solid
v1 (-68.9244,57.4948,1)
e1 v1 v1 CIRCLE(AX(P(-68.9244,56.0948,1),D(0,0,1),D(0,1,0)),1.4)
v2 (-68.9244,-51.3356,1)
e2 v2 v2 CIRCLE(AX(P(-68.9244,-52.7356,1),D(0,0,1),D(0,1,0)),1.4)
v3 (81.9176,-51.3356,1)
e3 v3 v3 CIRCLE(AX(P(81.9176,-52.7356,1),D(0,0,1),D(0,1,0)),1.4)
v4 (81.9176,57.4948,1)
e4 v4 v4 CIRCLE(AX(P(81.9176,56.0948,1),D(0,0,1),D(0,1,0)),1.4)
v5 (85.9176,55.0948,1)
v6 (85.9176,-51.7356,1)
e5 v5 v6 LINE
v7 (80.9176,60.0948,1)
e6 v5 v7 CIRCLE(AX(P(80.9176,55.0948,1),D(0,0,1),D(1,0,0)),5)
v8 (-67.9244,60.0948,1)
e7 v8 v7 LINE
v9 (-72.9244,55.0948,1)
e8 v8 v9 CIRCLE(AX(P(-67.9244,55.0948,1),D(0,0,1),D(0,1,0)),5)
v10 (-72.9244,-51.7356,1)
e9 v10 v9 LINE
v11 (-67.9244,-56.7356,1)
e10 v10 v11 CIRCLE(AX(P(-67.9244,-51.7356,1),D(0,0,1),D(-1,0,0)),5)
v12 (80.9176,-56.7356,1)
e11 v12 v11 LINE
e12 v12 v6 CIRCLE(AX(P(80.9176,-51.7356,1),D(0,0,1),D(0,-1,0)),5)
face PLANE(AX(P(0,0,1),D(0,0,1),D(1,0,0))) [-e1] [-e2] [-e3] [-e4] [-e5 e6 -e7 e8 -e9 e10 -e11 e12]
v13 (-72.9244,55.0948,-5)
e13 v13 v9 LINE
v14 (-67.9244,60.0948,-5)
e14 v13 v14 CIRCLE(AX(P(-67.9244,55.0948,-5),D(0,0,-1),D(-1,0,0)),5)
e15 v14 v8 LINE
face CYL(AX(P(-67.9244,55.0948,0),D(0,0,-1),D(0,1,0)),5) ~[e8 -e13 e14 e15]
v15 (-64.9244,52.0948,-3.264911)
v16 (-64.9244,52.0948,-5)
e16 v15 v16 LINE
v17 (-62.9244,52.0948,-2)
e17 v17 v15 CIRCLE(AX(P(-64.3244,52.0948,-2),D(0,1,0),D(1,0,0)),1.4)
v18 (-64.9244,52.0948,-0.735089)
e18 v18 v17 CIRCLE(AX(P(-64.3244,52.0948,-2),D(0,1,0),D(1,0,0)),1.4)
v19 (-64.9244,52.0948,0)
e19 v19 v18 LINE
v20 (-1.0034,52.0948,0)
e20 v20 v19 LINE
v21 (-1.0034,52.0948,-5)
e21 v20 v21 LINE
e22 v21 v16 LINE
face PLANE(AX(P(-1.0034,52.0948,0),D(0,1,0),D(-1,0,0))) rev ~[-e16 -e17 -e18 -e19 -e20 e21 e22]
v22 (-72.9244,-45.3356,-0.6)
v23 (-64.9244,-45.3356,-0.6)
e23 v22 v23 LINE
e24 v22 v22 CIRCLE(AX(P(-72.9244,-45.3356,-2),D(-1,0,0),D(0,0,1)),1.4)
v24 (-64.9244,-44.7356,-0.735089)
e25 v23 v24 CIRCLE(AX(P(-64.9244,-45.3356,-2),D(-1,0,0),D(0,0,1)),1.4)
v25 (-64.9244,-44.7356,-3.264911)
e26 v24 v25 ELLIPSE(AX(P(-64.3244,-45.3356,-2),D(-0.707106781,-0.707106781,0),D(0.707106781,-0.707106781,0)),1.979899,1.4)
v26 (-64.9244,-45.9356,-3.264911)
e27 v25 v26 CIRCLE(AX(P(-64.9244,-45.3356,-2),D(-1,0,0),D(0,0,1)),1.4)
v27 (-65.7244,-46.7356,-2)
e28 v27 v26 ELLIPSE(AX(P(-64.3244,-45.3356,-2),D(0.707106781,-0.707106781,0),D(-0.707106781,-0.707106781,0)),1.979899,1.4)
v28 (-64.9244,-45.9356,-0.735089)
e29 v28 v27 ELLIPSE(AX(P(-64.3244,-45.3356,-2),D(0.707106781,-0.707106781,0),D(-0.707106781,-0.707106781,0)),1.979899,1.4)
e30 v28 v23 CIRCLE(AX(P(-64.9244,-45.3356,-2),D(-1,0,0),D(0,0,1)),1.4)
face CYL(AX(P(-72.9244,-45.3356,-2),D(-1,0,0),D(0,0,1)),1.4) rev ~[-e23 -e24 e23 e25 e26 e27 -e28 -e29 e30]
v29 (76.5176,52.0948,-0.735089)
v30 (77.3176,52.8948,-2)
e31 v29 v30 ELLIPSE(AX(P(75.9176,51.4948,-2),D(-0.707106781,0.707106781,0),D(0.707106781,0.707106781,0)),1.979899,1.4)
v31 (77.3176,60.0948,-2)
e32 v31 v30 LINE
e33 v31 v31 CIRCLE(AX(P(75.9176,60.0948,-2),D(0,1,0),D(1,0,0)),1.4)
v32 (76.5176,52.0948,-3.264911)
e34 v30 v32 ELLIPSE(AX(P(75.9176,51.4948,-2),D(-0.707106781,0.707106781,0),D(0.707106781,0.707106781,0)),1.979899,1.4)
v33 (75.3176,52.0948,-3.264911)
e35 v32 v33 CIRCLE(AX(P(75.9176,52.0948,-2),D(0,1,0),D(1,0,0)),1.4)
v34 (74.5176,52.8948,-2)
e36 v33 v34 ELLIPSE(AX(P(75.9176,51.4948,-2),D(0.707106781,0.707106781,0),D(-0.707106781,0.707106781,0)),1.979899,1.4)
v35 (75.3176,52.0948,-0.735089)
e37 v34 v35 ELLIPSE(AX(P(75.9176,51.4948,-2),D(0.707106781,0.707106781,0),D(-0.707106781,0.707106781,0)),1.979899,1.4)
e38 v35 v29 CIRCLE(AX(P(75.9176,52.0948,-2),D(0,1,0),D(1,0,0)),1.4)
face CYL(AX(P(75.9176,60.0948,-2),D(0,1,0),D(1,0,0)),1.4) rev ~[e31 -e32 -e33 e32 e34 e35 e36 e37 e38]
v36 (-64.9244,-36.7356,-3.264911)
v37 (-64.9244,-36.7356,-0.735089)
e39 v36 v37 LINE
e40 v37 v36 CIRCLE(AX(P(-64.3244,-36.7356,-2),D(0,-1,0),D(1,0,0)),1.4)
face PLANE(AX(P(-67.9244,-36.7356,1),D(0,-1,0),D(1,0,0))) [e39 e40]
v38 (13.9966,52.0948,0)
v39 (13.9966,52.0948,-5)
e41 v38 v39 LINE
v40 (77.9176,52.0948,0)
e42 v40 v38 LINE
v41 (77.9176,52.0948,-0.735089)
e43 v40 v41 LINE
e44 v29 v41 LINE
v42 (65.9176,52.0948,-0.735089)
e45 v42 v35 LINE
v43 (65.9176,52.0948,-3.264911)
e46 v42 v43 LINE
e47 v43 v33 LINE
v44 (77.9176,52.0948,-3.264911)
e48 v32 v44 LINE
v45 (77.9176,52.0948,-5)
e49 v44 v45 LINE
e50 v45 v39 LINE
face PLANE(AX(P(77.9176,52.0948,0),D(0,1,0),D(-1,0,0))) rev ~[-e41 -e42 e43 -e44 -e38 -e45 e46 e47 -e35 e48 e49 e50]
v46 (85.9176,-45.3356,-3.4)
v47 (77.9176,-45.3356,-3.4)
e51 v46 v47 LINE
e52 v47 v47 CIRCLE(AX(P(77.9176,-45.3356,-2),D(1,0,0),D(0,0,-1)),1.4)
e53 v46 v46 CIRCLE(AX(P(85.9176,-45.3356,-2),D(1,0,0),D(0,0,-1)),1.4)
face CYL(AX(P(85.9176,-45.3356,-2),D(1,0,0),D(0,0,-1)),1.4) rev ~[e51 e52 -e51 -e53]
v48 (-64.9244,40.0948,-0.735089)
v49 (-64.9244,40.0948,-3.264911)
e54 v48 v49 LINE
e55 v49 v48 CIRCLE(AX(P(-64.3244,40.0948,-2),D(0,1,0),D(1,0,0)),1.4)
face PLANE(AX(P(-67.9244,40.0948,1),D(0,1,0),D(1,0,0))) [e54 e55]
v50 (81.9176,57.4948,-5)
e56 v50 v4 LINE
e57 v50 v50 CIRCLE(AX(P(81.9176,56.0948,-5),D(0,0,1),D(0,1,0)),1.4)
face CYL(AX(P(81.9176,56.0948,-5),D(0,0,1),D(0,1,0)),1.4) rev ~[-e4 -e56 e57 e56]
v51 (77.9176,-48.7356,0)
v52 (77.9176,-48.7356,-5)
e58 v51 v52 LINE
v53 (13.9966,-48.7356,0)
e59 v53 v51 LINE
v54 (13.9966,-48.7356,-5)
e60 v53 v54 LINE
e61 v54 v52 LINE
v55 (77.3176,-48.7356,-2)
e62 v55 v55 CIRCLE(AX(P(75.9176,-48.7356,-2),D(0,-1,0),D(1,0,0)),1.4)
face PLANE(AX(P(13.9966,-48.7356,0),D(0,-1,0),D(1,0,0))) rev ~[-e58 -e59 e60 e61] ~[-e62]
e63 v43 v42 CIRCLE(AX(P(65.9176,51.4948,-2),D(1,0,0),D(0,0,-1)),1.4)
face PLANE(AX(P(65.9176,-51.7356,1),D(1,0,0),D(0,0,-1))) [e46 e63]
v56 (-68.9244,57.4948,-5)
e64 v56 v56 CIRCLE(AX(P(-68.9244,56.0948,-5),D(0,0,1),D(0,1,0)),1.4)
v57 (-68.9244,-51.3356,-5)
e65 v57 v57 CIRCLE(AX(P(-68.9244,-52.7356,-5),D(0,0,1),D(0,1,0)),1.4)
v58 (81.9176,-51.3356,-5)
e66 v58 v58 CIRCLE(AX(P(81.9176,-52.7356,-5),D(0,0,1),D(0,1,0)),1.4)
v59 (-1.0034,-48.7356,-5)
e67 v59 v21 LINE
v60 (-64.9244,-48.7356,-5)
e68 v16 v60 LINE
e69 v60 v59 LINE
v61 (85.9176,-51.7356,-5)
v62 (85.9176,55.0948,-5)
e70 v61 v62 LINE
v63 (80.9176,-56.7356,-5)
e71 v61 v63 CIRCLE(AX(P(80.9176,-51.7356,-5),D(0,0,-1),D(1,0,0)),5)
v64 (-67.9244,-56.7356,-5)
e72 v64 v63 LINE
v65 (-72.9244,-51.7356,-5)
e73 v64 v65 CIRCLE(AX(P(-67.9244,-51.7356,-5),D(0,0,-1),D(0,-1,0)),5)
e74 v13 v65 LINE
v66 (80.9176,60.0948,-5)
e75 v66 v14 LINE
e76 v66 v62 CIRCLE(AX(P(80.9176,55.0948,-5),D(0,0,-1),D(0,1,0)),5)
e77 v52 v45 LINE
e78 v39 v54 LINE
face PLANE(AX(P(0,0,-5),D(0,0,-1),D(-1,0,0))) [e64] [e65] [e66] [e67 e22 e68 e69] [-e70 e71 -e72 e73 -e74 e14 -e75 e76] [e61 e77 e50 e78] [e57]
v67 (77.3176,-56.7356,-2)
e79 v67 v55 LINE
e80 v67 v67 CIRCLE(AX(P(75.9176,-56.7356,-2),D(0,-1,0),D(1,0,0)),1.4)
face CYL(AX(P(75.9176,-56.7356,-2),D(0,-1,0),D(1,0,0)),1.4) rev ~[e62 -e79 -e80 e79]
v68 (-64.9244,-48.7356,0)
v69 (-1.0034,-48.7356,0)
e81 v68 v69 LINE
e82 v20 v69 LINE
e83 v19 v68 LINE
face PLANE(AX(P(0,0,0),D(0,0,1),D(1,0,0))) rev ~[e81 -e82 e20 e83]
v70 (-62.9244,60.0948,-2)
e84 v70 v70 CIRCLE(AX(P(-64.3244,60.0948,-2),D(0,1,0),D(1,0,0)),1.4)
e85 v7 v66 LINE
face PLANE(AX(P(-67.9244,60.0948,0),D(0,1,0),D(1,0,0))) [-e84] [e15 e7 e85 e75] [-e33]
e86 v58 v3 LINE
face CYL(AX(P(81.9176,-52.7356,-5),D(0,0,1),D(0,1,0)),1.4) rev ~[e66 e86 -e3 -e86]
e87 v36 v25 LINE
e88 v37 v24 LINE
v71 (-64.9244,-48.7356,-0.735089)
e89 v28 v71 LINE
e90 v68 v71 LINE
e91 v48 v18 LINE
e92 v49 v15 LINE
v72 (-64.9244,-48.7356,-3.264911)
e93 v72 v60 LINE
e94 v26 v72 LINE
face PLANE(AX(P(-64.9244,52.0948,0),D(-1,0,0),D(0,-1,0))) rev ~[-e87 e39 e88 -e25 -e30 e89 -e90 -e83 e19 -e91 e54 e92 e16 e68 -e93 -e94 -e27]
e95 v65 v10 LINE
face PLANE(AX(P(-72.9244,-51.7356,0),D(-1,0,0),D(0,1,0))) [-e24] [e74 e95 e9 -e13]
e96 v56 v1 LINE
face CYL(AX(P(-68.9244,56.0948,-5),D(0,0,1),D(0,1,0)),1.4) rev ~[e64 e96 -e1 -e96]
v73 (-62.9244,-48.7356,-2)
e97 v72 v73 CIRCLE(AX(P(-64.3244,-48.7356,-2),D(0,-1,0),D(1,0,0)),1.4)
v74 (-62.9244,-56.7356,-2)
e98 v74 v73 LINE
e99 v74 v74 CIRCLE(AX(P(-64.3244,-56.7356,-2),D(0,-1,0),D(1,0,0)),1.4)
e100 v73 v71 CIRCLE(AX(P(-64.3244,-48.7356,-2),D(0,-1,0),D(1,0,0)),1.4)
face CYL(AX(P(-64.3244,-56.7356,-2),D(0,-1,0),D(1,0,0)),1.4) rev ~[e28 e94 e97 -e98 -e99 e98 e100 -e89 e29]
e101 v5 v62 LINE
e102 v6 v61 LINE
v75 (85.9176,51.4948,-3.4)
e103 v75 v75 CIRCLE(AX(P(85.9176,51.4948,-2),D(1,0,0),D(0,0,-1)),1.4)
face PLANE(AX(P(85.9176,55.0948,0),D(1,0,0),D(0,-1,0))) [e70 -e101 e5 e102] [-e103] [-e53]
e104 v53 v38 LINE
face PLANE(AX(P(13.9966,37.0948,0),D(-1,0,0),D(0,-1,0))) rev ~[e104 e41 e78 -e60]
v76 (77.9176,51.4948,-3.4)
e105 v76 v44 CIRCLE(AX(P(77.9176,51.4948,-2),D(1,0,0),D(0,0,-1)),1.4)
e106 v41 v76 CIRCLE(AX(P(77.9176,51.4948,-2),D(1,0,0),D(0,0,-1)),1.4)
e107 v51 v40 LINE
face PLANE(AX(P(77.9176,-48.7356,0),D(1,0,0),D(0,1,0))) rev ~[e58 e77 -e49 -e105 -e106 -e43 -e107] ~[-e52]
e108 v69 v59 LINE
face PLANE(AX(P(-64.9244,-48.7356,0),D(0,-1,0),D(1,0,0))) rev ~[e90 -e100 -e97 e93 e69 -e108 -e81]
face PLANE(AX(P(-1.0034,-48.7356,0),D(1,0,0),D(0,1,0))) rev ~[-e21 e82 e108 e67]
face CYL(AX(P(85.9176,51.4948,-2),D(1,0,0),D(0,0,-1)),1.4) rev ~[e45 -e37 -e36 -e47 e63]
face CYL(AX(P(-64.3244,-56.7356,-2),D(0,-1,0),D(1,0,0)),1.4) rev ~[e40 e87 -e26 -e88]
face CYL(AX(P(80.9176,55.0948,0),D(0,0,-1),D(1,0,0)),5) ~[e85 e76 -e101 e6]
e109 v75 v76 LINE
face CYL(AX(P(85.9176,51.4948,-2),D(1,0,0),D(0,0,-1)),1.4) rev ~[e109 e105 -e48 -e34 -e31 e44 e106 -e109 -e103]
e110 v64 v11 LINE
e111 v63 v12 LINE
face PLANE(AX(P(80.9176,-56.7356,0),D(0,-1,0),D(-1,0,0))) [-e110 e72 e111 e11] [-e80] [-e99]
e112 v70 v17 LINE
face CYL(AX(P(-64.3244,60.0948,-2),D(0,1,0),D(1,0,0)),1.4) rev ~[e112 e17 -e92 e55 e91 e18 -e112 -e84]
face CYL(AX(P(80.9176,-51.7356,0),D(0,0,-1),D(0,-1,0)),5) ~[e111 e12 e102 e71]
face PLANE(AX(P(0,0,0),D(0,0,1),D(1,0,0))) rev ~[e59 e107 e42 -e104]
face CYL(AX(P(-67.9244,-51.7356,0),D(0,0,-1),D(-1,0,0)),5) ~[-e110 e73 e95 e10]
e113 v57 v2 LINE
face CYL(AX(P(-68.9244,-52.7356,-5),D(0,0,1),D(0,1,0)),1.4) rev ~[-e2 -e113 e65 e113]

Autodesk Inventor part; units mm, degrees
ref_plane "YZ Plane" through (0, 0, 0) normal (1, 0, 0) x (0, 1, 0)
ref_plane "XZ Plane" through (0, 0, 0) normal (0, 1, 0) x (-1, 0, 0)
ref_plane "XY Plane" through (0, 0, 0) normal (0, 0, 1) x (1, 0, 0)
sketch "Skizze1" plane through (0, 0, 0) normal (0, 0, 1) x (1, 0, 0)
  line L0 (63.945, 39.8) -> (63.945, -39.8) construction
  arc A0 (63.945, 39.8) -> (60.945, 42.8) centre (60.945, 39.8) ccw construction
  line L1 (-60.945, 42.8) -> (60.945, 42.8) construction
  arc A1 (-60.945, 42.8) -> (-63.945, 39.8) centre (-60.945, 39.8) ccw construction
  line L2 (-63.945, -39.8) -> (-63.945, 39.8) construction
  arc A2 (-63.945, -39.8) -> (-60.945, -42.8) centre (-60.945, -39.8) ccw construction
  line L3 (60.945, -42.8) -> (-60.945, -42.8) construction
  arc A3 (60.945, -42.8) -> (63.945, -39.8) centre (60.945, -39.8) ccw construction
  line L4 (-63.625, -39.48) -> (-63.625, 39.48) construction
  arc A4 (-60.625, 42.48) -> (-63.625, 39.48) centre (-60.625, 39.48) ccw construction
  line L5 (-60.625, 42.48) -> (60.625, 42.48) construction
  arc A5 (63.625, 39.48) -> (60.625, 42.48) centre (60.625, 39.48) ccw construction
  line L6 (63.625, 39.48) -> (63.625, -39.48) construction
  arc A6 (60.625, -42.48) -> (63.625, -39.48) centre (60.625, -39.48) ccw construction
  line L7 (60.625, -42.48) -> (-60.625, -42.48) construction
  arc A7 (-63.625, -39.48) -> (-60.625, -42.48) centre (-60.625, -39.48) ccw construction
  line L8 (-62.625, 39.48) -> (-62.625, -39.48) construction
  arc A8 (-62.625, -39.48) -> (-60.625, -41.48) centre (-60.625, -39.48) ccw construction
  line L9 (-60.625, -41.48) -> (60.625, -41.48) construction
  arc A9 (60.625, -41.48) -> (62.625, -39.48) centre (60.625, -39.48) ccw construction
  line L10 (62.625, -39.48) -> (62.625, 39.48) construction
  arc A10 (62.625, 39.48) -> (60.625, 41.48) centre (60.625, 39.48) ccw construction
  line L11 (60.625, 41.48) -> (-60.625, 41.48) construction
  arc A11 (-60.625, 41.48) -> (-62.625, 39.48) centre (-60.625, 39.48) ccw construction
  line L12 (75.9176, 38) -> (78.9176, 41) construction
  line L13 (75.9176, 38) -> (66.9176, 38) construction
  line L14 (63.9176, 35) -> (66.9176, 38) construction
  line L15 (63.9176, 35) -> (63.9176, -34.9) construction
  line L16 (66.9176, -37.9) -> (63.9176, -34.9) construction
  line L17 (66.9176, -37.9) -> (75.9176, -37.9) construction
  line L18 (78.9176, -40.9) -> (75.9176, -37.9) construction
  line L19 (78.9176, -40.9) -> (78.9176, -45.7356) construction
  arc A12 (74.9176, -49.7356) -> (78.9176, -45.7356) centre (74.9176, -45.7356) ccw construction
  line L20 (74.9176, -49.7356) -> (-61.9244, -49.7356) construction
  arc A13 (-65.9244, -45.7356) -> (-61.9244, -49.7356) centre (-61.9244, -45.7356) ccw projected
  line L21 (-65.9244, -45.7356) -> (-65.9244, -40.9) projected
  line L22 (-62.9244, -37.9) -> (-65.9244, -40.9) projected
  line L23 (-62.9244, -37.9) -> (-58.9244, -37.9) construction
  line L24 (-55.9244, -34.9) -> (-58.9244, -37.9) construction
  line L25 (-55.9244, -34.9) -> (-55.9244, 35) construction
  line L26 (-58.9244, 38) -> (-55.9244, 35) construction
  line L27 (-58.9244, 38) -> (-62.9244, 38) construction
  line L28 (-65.9244, 41) -> (-62.9244, 38) projected
  line L29 (-65.9244, 41) -> (-65.9244, 49.0948) projected
  arc A14 (-61.9244, 53.0948) -> (-65.9244, 49.0948) centre (-61.9244, 49.0948) ccw projected
  line L30 (-61.9244, 53.0948) -> (74.9176, 53.0948) construction
  arc A15 (78.9176, 49.0948) -> (74.9176, 53.0948) centre (74.9176, 49.0948) ccw construction
  line L31 (78.9176, 49.0948) -> (78.9176, 41) construction
  circle A16 centre (-62.4244, 49.5948) radius 1.4 construction
  circle A17 centre (-62.4244, -46.2356) radius 1.4 construction
  circle A18 centre (75.4176, -46.2356) radius 1.4 construction
  circle A19 centre (75.4176, 49.5948) radius 1.5 construction
  circle A20 centre (45.2899, -42.9) radius 1.4 construction
  circle A21 centre (45.2899, 43) radius 1.4 construction
  line L32 (54.6, 38) -> (44.6, 38) construction
  line L33 (44.6, 38) -> (44.6, -37.9) construction
  line L34 (44.6, -37.9) -> (54.6, -37.9) construction
  line L35 (54.6, -37.9) -> (54.6, 38) construction
  circle A22 centre (26.5899, 43) radius 1.4 construction
  circle A23 centre (26.5899, -42.9) radius 1.4 construction
  line L36 (25.9, -37.9) -> (35.9, -37.9) construction
  line L37 (35.9, -37.9) -> (35.9, 38) construction
  line L38 (35.9, 38) -> (25.9, 38) construction
  line L39 (25.9, 38) -> (25.9, -37.9) construction
  circle A24 centre (7.8899, 43) radius 1.4 construction
  circle A25 centre (7.8899, -42.9) radius 1.4 construction
  line L40 (7.2, -37.9) -> (17.2, -37.9) construction
  line L41 (17.2, -37.9) -> (17.2, 38) construction
  line L42 (17.2, 38) -> (7.2, 38) construction
  line L43 (7.2, 38) -> (7.2, -37.9) construction
  circle A26 centre (-10.8101, 43) radius 1.4 construction
  circle A27 centre (-10.8101, -42.9) radius 1.4 construction
  line L44 (-11.5, -37.9) -> (-1.5, -37.9) construction
  line L45 (-1.5, -37.9) -> (-1.5, 38) construction
  line L46 (-1.5, 38) -> (-11.5, 38) construction
  line L47 (-11.5, 38) -> (-11.5, -37.9) construction
  circle A28 centre (-29.5101, 43) radius 1.4 construction
  circle A29 centre (-29.5101, -42.9) radius 1.4 construction
  line L48 (-30.2, -37.9) -> (-20.2, -37.9) construction
  line L49 (-20.2, -37.9) -> (-20.2, 38) construction
  line L50 (-20.2, 38) -> (-30.2, 38) construction
  line L51 (-30.2, 38) -> (-30.2, -37.9) construction
  circle A30 centre (-48.2101, 43) radius 1.4 construction
  circle A31 centre (-48.2101, -42.9) radius 1.4 construction
  line L52 (-48.9, -37.9) -> (-38.9, -37.9) construction
  line L53 (-38.9, -37.9) -> (-38.9, 38) construction
  line L54 (-38.9, 38) -> (-48.9, 38) construction
  line L55 (-48.9, 38) -> (-48.9, -37.9) construction
  line L56 (74.9176, 55.0948) -> (-61.9244, 55.0948) construction
  arc A32 (-61.9244, 55.0948) -> (-67.9244, 49.0948) centre (-61.9244, 49.0948) ccw
  line L57 (-67.9244, 49.0948) -> (-67.9244, 40.1716)
  line L58 (-67.9244, 40.1716) -> (-63.7528, 36)
  line L59 (-63.7528, 36) -> (-59.7528, 36) construction
  line L60 (-59.7528, 36) -> (-57.9244, 34.1716) construction
  line L61 (-57.9244, 34.1716) -> (-57.9244, -34.0716) construction
  line L62 (-57.9244, -34.0716) -> (-59.7528, -35.9) construction
  line L63 (-59.7528, -35.9) -> (-63.7528, -35.9) construction
  line L64 (-63.7528, -35.9) -> (-67.9244, -40.0716)
  line L65 (-67.9244, -40.0716) -> (-67.9244, -45.7356)
  arc A33 (-67.9244, -45.7356) -> (-61.9244, -51.7356) centre (-61.9244, -45.7356) ccw
  line L66 (-61.9244, -51.7356) -> (74.9176, -51.7356) construction
  arc A34 (74.9176, -51.7356) -> (80.9176, -45.7356) centre (74.9176, -45.7356) ccw construction
  line L67 (80.9176, -45.7356) -> (80.9176, -40.0716) construction
  line L68 (80.9176, -40.0716) -> (76.746, -35.9) construction
  line L69 (76.746, -35.9) -> (67.746, -35.9) construction
  line L70 (67.746, -35.9) -> (65.9176, -34.0716) construction
  line L71 (65.9176, -34.0716) -> (65.9176, 34.1716) construction
  line L72 (65.9176, 34.1716) -> (67.746, 36) construction
  line L73 (67.746, 36) -> (76.746, 36) construction
  line L74 (76.746, 36) -> (80.9176, 40.1716) construction
  line L75 (80.9176, 40.1716) -> (80.9176, 49.0948) construction
  arc A35 (80.9176, 49.0948) -> (74.9176, 55.0948) centre (74.9176, 49.0948) ccw construction
  line L76 (-61.9244, 60.0948) -> (74.9176, 60.0948) construction
  arc A36 (85.9176, 49.0948) -> (74.9176, 60.0948) centre (74.9176, 49.0948) ccw construction
  line L77 (85.9176, 49.0948) -> (85.9176, 38.1005) construction
  line L78 (85.9176, 38.1005) -> (78.8171, 31) construction
  line L79 (78.8171, 31) -> (70.9176, 31) construction
  line L80 (70.9176, 31) -> (70.9176, -30.9) construction
  line L81 (70.9176, -30.9) -> (78.8171, -30.9) construction
  line L82 (78.8171, -30.9) -> (85.9176, -38.0005) construction
  line L83 (85.9176, -38.0005) -> (85.9176, -45.7356) construction
  arc A37 (74.9176, -56.7356) -> (85.9176, -45.7356) centre (74.9176, -45.7356) ccw construction
  line L84 (74.9176, -56.7356) -> (-61.9244, -56.7356) construction
  arc A38 (-72.9244, -45.7356) -> (-61.9244, -56.7356) centre (-61.9244, -45.7356) ccw construction
  line L85 (-72.9244, -45.7356) -> (-72.9244, -38.0005) construction
  line L86 (-72.9244, -38.0005) -> (-65.8239, -30.9) construction
  line L87 (-65.8239, -30.9) -> (-62.9244, -30.9) construction
  line L88 (-62.9244, -30.9) -> (-62.9244, 31) construction
  line L89 (-62.9244, 31) -> (-65.8239, 31) construction
  line L90 (-65.8239, 31) -> (-72.9244, 38.1005) construction
  line L91 (-72.9244, 38.1005) -> (-72.9244, 49.0948) construction
  arc A39 (-61.9244, 60.0948) -> (-72.9244, 49.0948) centre (-61.9244, 49.0948) ccw construction
  line L92 (-67.9244, 60.0948) -> (80.9176, 60.0948)
  line L93 (85.9176, 55.0948) -> (85.9176, -51.7356)
  line L94 (80.9176, -56.7356) -> (-67.9244, -56.7356)
  line L95 (-72.9244, -51.7356) -> (-72.9244, 55.0948)
  arc A40 (-67.9244, 60.0948) -> (-72.9244, 55.0948) centre (-67.9244, 55.0948) ccw
  arc A41 (85.9176, 55.0948) -> (80.9176, 60.0948) centre (80.9176, 55.0948) ccw
  arc A42 (80.9176, -56.7356) -> (85.9176, -51.7356) centre (80.9176, -51.7356) ccw
  arc A43 (-72.9244, -51.7356) -> (-67.9244, -56.7356) centre (-67.9244, -51.7356) ccw
  line L96 (-60.625, -39.48) -> (60.625, -39.48)
  line L97 (60.625, -39.48) -> (60.625, 39.48)
  line L98 (60.625, 39.48) -> (-60.625, 39.48)
  line L99 (-60.625, 39.48) -> (-60.625, -39.48)
  point P0 (0, 0)
  dimension "d0" = 1
  dimension "d1" = 2
  dimension "d2" = 5
  dimension "d3" = 5
extrude "Extrusion1" add sketch "Skizze1" along normal blind 1 contours L92 A41 L93 A42 L94 A43 L95 A40 | L99 L98 L97 L96
sketch "Skizze2" plane through (0, 0, 0) normal (0, 0, -1) x (-1, 0, 0)
  line L0 (67.9244, -56.7356) -> (-80.9176, -56.7356) projected
  arc A0 (67.9244, -56.7356) -> (72.9244, -51.7356) centre (67.9244, -51.7356) ccw projected
  line L1 (72.9244, 55.0948) -> (72.9244, -51.7356) projected
  arc A1 (72.9244, 55.0948) -> (67.9244, 60.0948) centre (67.9244, 55.0948) ccw projected
  line L2 (-80.9176, 60.0948) -> (67.9244, 60.0948) projected
  arc A2 (-80.9176, 60.0948) -> (-85.9176, 55.0948) centre (-80.9176, 55.0948) ccw projected
  line L3 (-85.9176, -51.7356) -> (-85.9176, 55.0948) projected
  arc A3 (-85.9176, -51.7356) -> (-80.9176, -56.7356) centre (-80.9176, -51.7356) ccw projected
  line L4 (-77.9176, 52.0948) -> (64.9244, 52.0948)
  line L5 (64.9244, 52.0948) -> (64.9244, -48.7356)
  line L6 (64.9244, -48.7356) -> (-77.9176, -48.7356)
  line L7 (-77.9176, -48.7356) -> (-77.9176, 52.0948)
  line L8 (-13.9966, 37.0948) -> (1.0034, 37.0948)
  line L9 (1.0034, 37.0948) -> (1.0034, 52.0948)
  line L10 (1.0034, 52.0948) -> (-13.9966, 52.0948)
  line L11 (-13.9966, 52.0948) -> (-13.9966, 37.0948)
  line L12 (-13.9966, 37.0948) -> (1.0034, 52.0948) construction
  line L13 (1.0034, 37.0948) -> (-13.9966, 52.0948) construction
  line L14 (-13.9966, -48.7356) -> (1.0034, -48.7356)
  line L15 (1.0034, -48.7356) -> (1.0034, 52.0948)
  line L16 (1.0034, 52.0948) -> (-13.9966, 52.0948)
  line L17 (-13.9966, 52.0948) -> (-13.9966, -48.7356)
  line L18 (-13.9966, -48.7356) -> (1.0034, 52.0948) construction
  line L19 (1.0034, -48.7356) -> (-13.9966, 52.0948) construction
  point P0 (-6.4966, 44.5948)
  point P1 (-6.4966, 1.6796)
  point P2 (1.0034, 37.0948)
  dimension "d42" = 8
  dimension "d43" = 15
  dimension "d44" = 15
extrude "Extrusion2" add sketch "Skizze2" along normal blind 5 contours L0 A3 L3 A2 L2 A1 L1 A0 | L4 L9 L8 L11 | L8 L15 L6 L17
sketch "Skizze3" plane through (0, 0, -5) normal (0, 0, -1) x (-1, 0, 0)
  line L0 (67.9244, 60.0948) -> (-80.9176, 60.0948) projected
  arc A0 (-80.9176, 60.0948) -> (-85.9176, 55.0948) centre (-80.9176, 55.0948) ccw projected
  line L1 (-85.9176, 55.0948) -> (-85.9176, -51.7356) projected
  arc A1 (-85.9176, -51.7356) -> (-80.9176, -56.7356) centre (-80.9176, -51.7356) ccw projected
  line L2 (-80.9176, -56.7356) -> (67.9244, -56.7356) projected
  arc A2 (67.9244, -56.7356) -> (72.9244, -51.7356) centre (67.9244, -51.7356) ccw projected
  line L3 (72.9244, -51.7356) -> (72.9244, 55.0948) projected
  arc A3 (72.9244, 55.0948) -> (67.9244, 60.0948) centre (67.9244, 55.0948) ccw projected
  line L4 (-60.945, 43.8) -> (60.945, 43.8) projected
  arc A4 (64.945, 39.8) -> (60.945, 43.8) centre (60.945, 39.8) ccw projected
  line L5 (64.945, 39.8) -> (64.945, -39.8) projected
  arc A5 (60.945, -43.8) -> (64.945, -39.8) centre (60.945, -39.8) ccw projected
  line L6 (60.945, -43.8) -> (-60.945, -43.8) projected
  arc A6 (-64.945, -39.8) -> (-60.945, -43.8) centre (-60.945, -39.8) ccw projected
  line L7 (-64.945, -39.8) -> (-64.945, 39.8) projected
  arc A7 (-60.945, 43.8) -> (-64.945, 39.8) centre (-60.945, 39.8) ccw projected
  circle A8 centre (68.9244, -52.7356) radius 1.4
  circle A9 centre (68.9244, 56.0948) radius 1.4
  circle A10 centre (-81.9176, 56.0948) radius 1.4
  circle A11 centre (-81.9176, -52.7356) radius 1.4
  point P0 (0, 0)
  dimension "d9" = 2.8
  dimension "d10" = 2.8
  dimension "d11" = 2.8
  dimension "d12" = 2.8
  dimension "d13" = 4
  dimension "d14" = 4
  dimension "d15" = 4
  dimension "d16" = 4
  dimension "d17" = 4
  dimension "d18" = 4
  dimension "d19" = 4
  dimension "d20" = 4
hole "Bohrung1" at (-68.9244, -52.7356, -5) at (81.9176, -52.7356, -5) at (81.9176, 56.0948, -5) at (-68.9244, 56.0948, -5) direction (0, 0, 1) diameter 2.8 end through all
sketch "Skizze4" plane through (-67.9244, 60.0948, 1) normal (0, 1, 0) x (1, 0, 0)
  circle A0 centre (143.842, -102.2347) radius 1.4 projected
  circle A1 centre (5, -102.2347) radius 1.4 projected
  line L0 (148.842, -98.2347) -> (0, -98.2347) projected
  line L1 (0, -98.2347) -> (0, -106.2347) projected
  line L2 (148.842, -106.2347) -> (0, -106.2347) projected
  line L3 (148.842, -98.2347) -> (148.842, -106.2347) projected
  circle A2 centre (3.6, 3) radius 1.4
  line L4 (0, 6) -> (148.842, 6) projected
  circle A3 centre (143.842, 3) radius 1.4
  point P0 (67.9244, 1)
  dimension "d28" = 2.8
  dimension "d29" = 3
  dimension "d30" = 2.8
extrude "Extrusion3" cut sketch "Skizze4" against normal blind 20 contours A2 | A3
sketch "Skizze5" plane through (-67.9244, -56.7356, 1) normal (0, -1, 0) x (1, 0, 0)
  circle A0 centre (143.842, -3) radius 1.4 projected
  circle A1 centre (3.6, -3) radius 1.4 projected
  point P0 (67.9244, -1)
extrude "Extrusion4" cut sketch "Skizze5" against normal blind 20
sketch "Skizze6" plane through (85.9176, -51.7356, 1) normal (1, 0, 0) x (0, 0, -1)
  circle A0 centre (-102.2347, 101.8304) radius 1.4 projected
  circle A1 centre (-102.2347, 5) radius 1.4 projected
  circle A2 centre (3, 103.2304) radius 1.4
  line L0 (6, 106.8304) -> (6, 0) projected
  circle A3 centre (3, 6.4) radius 1.4
  point P0 (1, 51.7356)
  dimension "d35" = 2.8
  dimension "d36" = 3
  dimension "d37" = 2.8
extrude "Extrusion5" cut sketch "Skizze6" against normal blind 20 contours A2 | A3
sketch "Skizze7" plane through (-72.9244, -51.7356, 1) normal (-1, 0, 0) x (0, 0, 1)
  line L0 (-4.4, -5) -> (-4.4, 3) projected
  circle A0 centre (-3, 6.4) radius 1.4 projected
  arc A1 (-1.7351, 103.8304) -> (-4.2649, 103.8304) centre (-3, 103.2304) ccw projected
  point P0 (-1, 51.7356)
extrude "Extrusion6" cut sketch "Skizze7" against normal blind 20
equation "\"d29\" = 0.5 * a3 + 0.5 * a2"
equation "\"d36\" = 0.5 * a3 + 0.5 * a2"
equation "\"a3\" = 5"
equation "\"a2\" = 1"
properties part number "Omniscope_USBC_Illuminationunit"
